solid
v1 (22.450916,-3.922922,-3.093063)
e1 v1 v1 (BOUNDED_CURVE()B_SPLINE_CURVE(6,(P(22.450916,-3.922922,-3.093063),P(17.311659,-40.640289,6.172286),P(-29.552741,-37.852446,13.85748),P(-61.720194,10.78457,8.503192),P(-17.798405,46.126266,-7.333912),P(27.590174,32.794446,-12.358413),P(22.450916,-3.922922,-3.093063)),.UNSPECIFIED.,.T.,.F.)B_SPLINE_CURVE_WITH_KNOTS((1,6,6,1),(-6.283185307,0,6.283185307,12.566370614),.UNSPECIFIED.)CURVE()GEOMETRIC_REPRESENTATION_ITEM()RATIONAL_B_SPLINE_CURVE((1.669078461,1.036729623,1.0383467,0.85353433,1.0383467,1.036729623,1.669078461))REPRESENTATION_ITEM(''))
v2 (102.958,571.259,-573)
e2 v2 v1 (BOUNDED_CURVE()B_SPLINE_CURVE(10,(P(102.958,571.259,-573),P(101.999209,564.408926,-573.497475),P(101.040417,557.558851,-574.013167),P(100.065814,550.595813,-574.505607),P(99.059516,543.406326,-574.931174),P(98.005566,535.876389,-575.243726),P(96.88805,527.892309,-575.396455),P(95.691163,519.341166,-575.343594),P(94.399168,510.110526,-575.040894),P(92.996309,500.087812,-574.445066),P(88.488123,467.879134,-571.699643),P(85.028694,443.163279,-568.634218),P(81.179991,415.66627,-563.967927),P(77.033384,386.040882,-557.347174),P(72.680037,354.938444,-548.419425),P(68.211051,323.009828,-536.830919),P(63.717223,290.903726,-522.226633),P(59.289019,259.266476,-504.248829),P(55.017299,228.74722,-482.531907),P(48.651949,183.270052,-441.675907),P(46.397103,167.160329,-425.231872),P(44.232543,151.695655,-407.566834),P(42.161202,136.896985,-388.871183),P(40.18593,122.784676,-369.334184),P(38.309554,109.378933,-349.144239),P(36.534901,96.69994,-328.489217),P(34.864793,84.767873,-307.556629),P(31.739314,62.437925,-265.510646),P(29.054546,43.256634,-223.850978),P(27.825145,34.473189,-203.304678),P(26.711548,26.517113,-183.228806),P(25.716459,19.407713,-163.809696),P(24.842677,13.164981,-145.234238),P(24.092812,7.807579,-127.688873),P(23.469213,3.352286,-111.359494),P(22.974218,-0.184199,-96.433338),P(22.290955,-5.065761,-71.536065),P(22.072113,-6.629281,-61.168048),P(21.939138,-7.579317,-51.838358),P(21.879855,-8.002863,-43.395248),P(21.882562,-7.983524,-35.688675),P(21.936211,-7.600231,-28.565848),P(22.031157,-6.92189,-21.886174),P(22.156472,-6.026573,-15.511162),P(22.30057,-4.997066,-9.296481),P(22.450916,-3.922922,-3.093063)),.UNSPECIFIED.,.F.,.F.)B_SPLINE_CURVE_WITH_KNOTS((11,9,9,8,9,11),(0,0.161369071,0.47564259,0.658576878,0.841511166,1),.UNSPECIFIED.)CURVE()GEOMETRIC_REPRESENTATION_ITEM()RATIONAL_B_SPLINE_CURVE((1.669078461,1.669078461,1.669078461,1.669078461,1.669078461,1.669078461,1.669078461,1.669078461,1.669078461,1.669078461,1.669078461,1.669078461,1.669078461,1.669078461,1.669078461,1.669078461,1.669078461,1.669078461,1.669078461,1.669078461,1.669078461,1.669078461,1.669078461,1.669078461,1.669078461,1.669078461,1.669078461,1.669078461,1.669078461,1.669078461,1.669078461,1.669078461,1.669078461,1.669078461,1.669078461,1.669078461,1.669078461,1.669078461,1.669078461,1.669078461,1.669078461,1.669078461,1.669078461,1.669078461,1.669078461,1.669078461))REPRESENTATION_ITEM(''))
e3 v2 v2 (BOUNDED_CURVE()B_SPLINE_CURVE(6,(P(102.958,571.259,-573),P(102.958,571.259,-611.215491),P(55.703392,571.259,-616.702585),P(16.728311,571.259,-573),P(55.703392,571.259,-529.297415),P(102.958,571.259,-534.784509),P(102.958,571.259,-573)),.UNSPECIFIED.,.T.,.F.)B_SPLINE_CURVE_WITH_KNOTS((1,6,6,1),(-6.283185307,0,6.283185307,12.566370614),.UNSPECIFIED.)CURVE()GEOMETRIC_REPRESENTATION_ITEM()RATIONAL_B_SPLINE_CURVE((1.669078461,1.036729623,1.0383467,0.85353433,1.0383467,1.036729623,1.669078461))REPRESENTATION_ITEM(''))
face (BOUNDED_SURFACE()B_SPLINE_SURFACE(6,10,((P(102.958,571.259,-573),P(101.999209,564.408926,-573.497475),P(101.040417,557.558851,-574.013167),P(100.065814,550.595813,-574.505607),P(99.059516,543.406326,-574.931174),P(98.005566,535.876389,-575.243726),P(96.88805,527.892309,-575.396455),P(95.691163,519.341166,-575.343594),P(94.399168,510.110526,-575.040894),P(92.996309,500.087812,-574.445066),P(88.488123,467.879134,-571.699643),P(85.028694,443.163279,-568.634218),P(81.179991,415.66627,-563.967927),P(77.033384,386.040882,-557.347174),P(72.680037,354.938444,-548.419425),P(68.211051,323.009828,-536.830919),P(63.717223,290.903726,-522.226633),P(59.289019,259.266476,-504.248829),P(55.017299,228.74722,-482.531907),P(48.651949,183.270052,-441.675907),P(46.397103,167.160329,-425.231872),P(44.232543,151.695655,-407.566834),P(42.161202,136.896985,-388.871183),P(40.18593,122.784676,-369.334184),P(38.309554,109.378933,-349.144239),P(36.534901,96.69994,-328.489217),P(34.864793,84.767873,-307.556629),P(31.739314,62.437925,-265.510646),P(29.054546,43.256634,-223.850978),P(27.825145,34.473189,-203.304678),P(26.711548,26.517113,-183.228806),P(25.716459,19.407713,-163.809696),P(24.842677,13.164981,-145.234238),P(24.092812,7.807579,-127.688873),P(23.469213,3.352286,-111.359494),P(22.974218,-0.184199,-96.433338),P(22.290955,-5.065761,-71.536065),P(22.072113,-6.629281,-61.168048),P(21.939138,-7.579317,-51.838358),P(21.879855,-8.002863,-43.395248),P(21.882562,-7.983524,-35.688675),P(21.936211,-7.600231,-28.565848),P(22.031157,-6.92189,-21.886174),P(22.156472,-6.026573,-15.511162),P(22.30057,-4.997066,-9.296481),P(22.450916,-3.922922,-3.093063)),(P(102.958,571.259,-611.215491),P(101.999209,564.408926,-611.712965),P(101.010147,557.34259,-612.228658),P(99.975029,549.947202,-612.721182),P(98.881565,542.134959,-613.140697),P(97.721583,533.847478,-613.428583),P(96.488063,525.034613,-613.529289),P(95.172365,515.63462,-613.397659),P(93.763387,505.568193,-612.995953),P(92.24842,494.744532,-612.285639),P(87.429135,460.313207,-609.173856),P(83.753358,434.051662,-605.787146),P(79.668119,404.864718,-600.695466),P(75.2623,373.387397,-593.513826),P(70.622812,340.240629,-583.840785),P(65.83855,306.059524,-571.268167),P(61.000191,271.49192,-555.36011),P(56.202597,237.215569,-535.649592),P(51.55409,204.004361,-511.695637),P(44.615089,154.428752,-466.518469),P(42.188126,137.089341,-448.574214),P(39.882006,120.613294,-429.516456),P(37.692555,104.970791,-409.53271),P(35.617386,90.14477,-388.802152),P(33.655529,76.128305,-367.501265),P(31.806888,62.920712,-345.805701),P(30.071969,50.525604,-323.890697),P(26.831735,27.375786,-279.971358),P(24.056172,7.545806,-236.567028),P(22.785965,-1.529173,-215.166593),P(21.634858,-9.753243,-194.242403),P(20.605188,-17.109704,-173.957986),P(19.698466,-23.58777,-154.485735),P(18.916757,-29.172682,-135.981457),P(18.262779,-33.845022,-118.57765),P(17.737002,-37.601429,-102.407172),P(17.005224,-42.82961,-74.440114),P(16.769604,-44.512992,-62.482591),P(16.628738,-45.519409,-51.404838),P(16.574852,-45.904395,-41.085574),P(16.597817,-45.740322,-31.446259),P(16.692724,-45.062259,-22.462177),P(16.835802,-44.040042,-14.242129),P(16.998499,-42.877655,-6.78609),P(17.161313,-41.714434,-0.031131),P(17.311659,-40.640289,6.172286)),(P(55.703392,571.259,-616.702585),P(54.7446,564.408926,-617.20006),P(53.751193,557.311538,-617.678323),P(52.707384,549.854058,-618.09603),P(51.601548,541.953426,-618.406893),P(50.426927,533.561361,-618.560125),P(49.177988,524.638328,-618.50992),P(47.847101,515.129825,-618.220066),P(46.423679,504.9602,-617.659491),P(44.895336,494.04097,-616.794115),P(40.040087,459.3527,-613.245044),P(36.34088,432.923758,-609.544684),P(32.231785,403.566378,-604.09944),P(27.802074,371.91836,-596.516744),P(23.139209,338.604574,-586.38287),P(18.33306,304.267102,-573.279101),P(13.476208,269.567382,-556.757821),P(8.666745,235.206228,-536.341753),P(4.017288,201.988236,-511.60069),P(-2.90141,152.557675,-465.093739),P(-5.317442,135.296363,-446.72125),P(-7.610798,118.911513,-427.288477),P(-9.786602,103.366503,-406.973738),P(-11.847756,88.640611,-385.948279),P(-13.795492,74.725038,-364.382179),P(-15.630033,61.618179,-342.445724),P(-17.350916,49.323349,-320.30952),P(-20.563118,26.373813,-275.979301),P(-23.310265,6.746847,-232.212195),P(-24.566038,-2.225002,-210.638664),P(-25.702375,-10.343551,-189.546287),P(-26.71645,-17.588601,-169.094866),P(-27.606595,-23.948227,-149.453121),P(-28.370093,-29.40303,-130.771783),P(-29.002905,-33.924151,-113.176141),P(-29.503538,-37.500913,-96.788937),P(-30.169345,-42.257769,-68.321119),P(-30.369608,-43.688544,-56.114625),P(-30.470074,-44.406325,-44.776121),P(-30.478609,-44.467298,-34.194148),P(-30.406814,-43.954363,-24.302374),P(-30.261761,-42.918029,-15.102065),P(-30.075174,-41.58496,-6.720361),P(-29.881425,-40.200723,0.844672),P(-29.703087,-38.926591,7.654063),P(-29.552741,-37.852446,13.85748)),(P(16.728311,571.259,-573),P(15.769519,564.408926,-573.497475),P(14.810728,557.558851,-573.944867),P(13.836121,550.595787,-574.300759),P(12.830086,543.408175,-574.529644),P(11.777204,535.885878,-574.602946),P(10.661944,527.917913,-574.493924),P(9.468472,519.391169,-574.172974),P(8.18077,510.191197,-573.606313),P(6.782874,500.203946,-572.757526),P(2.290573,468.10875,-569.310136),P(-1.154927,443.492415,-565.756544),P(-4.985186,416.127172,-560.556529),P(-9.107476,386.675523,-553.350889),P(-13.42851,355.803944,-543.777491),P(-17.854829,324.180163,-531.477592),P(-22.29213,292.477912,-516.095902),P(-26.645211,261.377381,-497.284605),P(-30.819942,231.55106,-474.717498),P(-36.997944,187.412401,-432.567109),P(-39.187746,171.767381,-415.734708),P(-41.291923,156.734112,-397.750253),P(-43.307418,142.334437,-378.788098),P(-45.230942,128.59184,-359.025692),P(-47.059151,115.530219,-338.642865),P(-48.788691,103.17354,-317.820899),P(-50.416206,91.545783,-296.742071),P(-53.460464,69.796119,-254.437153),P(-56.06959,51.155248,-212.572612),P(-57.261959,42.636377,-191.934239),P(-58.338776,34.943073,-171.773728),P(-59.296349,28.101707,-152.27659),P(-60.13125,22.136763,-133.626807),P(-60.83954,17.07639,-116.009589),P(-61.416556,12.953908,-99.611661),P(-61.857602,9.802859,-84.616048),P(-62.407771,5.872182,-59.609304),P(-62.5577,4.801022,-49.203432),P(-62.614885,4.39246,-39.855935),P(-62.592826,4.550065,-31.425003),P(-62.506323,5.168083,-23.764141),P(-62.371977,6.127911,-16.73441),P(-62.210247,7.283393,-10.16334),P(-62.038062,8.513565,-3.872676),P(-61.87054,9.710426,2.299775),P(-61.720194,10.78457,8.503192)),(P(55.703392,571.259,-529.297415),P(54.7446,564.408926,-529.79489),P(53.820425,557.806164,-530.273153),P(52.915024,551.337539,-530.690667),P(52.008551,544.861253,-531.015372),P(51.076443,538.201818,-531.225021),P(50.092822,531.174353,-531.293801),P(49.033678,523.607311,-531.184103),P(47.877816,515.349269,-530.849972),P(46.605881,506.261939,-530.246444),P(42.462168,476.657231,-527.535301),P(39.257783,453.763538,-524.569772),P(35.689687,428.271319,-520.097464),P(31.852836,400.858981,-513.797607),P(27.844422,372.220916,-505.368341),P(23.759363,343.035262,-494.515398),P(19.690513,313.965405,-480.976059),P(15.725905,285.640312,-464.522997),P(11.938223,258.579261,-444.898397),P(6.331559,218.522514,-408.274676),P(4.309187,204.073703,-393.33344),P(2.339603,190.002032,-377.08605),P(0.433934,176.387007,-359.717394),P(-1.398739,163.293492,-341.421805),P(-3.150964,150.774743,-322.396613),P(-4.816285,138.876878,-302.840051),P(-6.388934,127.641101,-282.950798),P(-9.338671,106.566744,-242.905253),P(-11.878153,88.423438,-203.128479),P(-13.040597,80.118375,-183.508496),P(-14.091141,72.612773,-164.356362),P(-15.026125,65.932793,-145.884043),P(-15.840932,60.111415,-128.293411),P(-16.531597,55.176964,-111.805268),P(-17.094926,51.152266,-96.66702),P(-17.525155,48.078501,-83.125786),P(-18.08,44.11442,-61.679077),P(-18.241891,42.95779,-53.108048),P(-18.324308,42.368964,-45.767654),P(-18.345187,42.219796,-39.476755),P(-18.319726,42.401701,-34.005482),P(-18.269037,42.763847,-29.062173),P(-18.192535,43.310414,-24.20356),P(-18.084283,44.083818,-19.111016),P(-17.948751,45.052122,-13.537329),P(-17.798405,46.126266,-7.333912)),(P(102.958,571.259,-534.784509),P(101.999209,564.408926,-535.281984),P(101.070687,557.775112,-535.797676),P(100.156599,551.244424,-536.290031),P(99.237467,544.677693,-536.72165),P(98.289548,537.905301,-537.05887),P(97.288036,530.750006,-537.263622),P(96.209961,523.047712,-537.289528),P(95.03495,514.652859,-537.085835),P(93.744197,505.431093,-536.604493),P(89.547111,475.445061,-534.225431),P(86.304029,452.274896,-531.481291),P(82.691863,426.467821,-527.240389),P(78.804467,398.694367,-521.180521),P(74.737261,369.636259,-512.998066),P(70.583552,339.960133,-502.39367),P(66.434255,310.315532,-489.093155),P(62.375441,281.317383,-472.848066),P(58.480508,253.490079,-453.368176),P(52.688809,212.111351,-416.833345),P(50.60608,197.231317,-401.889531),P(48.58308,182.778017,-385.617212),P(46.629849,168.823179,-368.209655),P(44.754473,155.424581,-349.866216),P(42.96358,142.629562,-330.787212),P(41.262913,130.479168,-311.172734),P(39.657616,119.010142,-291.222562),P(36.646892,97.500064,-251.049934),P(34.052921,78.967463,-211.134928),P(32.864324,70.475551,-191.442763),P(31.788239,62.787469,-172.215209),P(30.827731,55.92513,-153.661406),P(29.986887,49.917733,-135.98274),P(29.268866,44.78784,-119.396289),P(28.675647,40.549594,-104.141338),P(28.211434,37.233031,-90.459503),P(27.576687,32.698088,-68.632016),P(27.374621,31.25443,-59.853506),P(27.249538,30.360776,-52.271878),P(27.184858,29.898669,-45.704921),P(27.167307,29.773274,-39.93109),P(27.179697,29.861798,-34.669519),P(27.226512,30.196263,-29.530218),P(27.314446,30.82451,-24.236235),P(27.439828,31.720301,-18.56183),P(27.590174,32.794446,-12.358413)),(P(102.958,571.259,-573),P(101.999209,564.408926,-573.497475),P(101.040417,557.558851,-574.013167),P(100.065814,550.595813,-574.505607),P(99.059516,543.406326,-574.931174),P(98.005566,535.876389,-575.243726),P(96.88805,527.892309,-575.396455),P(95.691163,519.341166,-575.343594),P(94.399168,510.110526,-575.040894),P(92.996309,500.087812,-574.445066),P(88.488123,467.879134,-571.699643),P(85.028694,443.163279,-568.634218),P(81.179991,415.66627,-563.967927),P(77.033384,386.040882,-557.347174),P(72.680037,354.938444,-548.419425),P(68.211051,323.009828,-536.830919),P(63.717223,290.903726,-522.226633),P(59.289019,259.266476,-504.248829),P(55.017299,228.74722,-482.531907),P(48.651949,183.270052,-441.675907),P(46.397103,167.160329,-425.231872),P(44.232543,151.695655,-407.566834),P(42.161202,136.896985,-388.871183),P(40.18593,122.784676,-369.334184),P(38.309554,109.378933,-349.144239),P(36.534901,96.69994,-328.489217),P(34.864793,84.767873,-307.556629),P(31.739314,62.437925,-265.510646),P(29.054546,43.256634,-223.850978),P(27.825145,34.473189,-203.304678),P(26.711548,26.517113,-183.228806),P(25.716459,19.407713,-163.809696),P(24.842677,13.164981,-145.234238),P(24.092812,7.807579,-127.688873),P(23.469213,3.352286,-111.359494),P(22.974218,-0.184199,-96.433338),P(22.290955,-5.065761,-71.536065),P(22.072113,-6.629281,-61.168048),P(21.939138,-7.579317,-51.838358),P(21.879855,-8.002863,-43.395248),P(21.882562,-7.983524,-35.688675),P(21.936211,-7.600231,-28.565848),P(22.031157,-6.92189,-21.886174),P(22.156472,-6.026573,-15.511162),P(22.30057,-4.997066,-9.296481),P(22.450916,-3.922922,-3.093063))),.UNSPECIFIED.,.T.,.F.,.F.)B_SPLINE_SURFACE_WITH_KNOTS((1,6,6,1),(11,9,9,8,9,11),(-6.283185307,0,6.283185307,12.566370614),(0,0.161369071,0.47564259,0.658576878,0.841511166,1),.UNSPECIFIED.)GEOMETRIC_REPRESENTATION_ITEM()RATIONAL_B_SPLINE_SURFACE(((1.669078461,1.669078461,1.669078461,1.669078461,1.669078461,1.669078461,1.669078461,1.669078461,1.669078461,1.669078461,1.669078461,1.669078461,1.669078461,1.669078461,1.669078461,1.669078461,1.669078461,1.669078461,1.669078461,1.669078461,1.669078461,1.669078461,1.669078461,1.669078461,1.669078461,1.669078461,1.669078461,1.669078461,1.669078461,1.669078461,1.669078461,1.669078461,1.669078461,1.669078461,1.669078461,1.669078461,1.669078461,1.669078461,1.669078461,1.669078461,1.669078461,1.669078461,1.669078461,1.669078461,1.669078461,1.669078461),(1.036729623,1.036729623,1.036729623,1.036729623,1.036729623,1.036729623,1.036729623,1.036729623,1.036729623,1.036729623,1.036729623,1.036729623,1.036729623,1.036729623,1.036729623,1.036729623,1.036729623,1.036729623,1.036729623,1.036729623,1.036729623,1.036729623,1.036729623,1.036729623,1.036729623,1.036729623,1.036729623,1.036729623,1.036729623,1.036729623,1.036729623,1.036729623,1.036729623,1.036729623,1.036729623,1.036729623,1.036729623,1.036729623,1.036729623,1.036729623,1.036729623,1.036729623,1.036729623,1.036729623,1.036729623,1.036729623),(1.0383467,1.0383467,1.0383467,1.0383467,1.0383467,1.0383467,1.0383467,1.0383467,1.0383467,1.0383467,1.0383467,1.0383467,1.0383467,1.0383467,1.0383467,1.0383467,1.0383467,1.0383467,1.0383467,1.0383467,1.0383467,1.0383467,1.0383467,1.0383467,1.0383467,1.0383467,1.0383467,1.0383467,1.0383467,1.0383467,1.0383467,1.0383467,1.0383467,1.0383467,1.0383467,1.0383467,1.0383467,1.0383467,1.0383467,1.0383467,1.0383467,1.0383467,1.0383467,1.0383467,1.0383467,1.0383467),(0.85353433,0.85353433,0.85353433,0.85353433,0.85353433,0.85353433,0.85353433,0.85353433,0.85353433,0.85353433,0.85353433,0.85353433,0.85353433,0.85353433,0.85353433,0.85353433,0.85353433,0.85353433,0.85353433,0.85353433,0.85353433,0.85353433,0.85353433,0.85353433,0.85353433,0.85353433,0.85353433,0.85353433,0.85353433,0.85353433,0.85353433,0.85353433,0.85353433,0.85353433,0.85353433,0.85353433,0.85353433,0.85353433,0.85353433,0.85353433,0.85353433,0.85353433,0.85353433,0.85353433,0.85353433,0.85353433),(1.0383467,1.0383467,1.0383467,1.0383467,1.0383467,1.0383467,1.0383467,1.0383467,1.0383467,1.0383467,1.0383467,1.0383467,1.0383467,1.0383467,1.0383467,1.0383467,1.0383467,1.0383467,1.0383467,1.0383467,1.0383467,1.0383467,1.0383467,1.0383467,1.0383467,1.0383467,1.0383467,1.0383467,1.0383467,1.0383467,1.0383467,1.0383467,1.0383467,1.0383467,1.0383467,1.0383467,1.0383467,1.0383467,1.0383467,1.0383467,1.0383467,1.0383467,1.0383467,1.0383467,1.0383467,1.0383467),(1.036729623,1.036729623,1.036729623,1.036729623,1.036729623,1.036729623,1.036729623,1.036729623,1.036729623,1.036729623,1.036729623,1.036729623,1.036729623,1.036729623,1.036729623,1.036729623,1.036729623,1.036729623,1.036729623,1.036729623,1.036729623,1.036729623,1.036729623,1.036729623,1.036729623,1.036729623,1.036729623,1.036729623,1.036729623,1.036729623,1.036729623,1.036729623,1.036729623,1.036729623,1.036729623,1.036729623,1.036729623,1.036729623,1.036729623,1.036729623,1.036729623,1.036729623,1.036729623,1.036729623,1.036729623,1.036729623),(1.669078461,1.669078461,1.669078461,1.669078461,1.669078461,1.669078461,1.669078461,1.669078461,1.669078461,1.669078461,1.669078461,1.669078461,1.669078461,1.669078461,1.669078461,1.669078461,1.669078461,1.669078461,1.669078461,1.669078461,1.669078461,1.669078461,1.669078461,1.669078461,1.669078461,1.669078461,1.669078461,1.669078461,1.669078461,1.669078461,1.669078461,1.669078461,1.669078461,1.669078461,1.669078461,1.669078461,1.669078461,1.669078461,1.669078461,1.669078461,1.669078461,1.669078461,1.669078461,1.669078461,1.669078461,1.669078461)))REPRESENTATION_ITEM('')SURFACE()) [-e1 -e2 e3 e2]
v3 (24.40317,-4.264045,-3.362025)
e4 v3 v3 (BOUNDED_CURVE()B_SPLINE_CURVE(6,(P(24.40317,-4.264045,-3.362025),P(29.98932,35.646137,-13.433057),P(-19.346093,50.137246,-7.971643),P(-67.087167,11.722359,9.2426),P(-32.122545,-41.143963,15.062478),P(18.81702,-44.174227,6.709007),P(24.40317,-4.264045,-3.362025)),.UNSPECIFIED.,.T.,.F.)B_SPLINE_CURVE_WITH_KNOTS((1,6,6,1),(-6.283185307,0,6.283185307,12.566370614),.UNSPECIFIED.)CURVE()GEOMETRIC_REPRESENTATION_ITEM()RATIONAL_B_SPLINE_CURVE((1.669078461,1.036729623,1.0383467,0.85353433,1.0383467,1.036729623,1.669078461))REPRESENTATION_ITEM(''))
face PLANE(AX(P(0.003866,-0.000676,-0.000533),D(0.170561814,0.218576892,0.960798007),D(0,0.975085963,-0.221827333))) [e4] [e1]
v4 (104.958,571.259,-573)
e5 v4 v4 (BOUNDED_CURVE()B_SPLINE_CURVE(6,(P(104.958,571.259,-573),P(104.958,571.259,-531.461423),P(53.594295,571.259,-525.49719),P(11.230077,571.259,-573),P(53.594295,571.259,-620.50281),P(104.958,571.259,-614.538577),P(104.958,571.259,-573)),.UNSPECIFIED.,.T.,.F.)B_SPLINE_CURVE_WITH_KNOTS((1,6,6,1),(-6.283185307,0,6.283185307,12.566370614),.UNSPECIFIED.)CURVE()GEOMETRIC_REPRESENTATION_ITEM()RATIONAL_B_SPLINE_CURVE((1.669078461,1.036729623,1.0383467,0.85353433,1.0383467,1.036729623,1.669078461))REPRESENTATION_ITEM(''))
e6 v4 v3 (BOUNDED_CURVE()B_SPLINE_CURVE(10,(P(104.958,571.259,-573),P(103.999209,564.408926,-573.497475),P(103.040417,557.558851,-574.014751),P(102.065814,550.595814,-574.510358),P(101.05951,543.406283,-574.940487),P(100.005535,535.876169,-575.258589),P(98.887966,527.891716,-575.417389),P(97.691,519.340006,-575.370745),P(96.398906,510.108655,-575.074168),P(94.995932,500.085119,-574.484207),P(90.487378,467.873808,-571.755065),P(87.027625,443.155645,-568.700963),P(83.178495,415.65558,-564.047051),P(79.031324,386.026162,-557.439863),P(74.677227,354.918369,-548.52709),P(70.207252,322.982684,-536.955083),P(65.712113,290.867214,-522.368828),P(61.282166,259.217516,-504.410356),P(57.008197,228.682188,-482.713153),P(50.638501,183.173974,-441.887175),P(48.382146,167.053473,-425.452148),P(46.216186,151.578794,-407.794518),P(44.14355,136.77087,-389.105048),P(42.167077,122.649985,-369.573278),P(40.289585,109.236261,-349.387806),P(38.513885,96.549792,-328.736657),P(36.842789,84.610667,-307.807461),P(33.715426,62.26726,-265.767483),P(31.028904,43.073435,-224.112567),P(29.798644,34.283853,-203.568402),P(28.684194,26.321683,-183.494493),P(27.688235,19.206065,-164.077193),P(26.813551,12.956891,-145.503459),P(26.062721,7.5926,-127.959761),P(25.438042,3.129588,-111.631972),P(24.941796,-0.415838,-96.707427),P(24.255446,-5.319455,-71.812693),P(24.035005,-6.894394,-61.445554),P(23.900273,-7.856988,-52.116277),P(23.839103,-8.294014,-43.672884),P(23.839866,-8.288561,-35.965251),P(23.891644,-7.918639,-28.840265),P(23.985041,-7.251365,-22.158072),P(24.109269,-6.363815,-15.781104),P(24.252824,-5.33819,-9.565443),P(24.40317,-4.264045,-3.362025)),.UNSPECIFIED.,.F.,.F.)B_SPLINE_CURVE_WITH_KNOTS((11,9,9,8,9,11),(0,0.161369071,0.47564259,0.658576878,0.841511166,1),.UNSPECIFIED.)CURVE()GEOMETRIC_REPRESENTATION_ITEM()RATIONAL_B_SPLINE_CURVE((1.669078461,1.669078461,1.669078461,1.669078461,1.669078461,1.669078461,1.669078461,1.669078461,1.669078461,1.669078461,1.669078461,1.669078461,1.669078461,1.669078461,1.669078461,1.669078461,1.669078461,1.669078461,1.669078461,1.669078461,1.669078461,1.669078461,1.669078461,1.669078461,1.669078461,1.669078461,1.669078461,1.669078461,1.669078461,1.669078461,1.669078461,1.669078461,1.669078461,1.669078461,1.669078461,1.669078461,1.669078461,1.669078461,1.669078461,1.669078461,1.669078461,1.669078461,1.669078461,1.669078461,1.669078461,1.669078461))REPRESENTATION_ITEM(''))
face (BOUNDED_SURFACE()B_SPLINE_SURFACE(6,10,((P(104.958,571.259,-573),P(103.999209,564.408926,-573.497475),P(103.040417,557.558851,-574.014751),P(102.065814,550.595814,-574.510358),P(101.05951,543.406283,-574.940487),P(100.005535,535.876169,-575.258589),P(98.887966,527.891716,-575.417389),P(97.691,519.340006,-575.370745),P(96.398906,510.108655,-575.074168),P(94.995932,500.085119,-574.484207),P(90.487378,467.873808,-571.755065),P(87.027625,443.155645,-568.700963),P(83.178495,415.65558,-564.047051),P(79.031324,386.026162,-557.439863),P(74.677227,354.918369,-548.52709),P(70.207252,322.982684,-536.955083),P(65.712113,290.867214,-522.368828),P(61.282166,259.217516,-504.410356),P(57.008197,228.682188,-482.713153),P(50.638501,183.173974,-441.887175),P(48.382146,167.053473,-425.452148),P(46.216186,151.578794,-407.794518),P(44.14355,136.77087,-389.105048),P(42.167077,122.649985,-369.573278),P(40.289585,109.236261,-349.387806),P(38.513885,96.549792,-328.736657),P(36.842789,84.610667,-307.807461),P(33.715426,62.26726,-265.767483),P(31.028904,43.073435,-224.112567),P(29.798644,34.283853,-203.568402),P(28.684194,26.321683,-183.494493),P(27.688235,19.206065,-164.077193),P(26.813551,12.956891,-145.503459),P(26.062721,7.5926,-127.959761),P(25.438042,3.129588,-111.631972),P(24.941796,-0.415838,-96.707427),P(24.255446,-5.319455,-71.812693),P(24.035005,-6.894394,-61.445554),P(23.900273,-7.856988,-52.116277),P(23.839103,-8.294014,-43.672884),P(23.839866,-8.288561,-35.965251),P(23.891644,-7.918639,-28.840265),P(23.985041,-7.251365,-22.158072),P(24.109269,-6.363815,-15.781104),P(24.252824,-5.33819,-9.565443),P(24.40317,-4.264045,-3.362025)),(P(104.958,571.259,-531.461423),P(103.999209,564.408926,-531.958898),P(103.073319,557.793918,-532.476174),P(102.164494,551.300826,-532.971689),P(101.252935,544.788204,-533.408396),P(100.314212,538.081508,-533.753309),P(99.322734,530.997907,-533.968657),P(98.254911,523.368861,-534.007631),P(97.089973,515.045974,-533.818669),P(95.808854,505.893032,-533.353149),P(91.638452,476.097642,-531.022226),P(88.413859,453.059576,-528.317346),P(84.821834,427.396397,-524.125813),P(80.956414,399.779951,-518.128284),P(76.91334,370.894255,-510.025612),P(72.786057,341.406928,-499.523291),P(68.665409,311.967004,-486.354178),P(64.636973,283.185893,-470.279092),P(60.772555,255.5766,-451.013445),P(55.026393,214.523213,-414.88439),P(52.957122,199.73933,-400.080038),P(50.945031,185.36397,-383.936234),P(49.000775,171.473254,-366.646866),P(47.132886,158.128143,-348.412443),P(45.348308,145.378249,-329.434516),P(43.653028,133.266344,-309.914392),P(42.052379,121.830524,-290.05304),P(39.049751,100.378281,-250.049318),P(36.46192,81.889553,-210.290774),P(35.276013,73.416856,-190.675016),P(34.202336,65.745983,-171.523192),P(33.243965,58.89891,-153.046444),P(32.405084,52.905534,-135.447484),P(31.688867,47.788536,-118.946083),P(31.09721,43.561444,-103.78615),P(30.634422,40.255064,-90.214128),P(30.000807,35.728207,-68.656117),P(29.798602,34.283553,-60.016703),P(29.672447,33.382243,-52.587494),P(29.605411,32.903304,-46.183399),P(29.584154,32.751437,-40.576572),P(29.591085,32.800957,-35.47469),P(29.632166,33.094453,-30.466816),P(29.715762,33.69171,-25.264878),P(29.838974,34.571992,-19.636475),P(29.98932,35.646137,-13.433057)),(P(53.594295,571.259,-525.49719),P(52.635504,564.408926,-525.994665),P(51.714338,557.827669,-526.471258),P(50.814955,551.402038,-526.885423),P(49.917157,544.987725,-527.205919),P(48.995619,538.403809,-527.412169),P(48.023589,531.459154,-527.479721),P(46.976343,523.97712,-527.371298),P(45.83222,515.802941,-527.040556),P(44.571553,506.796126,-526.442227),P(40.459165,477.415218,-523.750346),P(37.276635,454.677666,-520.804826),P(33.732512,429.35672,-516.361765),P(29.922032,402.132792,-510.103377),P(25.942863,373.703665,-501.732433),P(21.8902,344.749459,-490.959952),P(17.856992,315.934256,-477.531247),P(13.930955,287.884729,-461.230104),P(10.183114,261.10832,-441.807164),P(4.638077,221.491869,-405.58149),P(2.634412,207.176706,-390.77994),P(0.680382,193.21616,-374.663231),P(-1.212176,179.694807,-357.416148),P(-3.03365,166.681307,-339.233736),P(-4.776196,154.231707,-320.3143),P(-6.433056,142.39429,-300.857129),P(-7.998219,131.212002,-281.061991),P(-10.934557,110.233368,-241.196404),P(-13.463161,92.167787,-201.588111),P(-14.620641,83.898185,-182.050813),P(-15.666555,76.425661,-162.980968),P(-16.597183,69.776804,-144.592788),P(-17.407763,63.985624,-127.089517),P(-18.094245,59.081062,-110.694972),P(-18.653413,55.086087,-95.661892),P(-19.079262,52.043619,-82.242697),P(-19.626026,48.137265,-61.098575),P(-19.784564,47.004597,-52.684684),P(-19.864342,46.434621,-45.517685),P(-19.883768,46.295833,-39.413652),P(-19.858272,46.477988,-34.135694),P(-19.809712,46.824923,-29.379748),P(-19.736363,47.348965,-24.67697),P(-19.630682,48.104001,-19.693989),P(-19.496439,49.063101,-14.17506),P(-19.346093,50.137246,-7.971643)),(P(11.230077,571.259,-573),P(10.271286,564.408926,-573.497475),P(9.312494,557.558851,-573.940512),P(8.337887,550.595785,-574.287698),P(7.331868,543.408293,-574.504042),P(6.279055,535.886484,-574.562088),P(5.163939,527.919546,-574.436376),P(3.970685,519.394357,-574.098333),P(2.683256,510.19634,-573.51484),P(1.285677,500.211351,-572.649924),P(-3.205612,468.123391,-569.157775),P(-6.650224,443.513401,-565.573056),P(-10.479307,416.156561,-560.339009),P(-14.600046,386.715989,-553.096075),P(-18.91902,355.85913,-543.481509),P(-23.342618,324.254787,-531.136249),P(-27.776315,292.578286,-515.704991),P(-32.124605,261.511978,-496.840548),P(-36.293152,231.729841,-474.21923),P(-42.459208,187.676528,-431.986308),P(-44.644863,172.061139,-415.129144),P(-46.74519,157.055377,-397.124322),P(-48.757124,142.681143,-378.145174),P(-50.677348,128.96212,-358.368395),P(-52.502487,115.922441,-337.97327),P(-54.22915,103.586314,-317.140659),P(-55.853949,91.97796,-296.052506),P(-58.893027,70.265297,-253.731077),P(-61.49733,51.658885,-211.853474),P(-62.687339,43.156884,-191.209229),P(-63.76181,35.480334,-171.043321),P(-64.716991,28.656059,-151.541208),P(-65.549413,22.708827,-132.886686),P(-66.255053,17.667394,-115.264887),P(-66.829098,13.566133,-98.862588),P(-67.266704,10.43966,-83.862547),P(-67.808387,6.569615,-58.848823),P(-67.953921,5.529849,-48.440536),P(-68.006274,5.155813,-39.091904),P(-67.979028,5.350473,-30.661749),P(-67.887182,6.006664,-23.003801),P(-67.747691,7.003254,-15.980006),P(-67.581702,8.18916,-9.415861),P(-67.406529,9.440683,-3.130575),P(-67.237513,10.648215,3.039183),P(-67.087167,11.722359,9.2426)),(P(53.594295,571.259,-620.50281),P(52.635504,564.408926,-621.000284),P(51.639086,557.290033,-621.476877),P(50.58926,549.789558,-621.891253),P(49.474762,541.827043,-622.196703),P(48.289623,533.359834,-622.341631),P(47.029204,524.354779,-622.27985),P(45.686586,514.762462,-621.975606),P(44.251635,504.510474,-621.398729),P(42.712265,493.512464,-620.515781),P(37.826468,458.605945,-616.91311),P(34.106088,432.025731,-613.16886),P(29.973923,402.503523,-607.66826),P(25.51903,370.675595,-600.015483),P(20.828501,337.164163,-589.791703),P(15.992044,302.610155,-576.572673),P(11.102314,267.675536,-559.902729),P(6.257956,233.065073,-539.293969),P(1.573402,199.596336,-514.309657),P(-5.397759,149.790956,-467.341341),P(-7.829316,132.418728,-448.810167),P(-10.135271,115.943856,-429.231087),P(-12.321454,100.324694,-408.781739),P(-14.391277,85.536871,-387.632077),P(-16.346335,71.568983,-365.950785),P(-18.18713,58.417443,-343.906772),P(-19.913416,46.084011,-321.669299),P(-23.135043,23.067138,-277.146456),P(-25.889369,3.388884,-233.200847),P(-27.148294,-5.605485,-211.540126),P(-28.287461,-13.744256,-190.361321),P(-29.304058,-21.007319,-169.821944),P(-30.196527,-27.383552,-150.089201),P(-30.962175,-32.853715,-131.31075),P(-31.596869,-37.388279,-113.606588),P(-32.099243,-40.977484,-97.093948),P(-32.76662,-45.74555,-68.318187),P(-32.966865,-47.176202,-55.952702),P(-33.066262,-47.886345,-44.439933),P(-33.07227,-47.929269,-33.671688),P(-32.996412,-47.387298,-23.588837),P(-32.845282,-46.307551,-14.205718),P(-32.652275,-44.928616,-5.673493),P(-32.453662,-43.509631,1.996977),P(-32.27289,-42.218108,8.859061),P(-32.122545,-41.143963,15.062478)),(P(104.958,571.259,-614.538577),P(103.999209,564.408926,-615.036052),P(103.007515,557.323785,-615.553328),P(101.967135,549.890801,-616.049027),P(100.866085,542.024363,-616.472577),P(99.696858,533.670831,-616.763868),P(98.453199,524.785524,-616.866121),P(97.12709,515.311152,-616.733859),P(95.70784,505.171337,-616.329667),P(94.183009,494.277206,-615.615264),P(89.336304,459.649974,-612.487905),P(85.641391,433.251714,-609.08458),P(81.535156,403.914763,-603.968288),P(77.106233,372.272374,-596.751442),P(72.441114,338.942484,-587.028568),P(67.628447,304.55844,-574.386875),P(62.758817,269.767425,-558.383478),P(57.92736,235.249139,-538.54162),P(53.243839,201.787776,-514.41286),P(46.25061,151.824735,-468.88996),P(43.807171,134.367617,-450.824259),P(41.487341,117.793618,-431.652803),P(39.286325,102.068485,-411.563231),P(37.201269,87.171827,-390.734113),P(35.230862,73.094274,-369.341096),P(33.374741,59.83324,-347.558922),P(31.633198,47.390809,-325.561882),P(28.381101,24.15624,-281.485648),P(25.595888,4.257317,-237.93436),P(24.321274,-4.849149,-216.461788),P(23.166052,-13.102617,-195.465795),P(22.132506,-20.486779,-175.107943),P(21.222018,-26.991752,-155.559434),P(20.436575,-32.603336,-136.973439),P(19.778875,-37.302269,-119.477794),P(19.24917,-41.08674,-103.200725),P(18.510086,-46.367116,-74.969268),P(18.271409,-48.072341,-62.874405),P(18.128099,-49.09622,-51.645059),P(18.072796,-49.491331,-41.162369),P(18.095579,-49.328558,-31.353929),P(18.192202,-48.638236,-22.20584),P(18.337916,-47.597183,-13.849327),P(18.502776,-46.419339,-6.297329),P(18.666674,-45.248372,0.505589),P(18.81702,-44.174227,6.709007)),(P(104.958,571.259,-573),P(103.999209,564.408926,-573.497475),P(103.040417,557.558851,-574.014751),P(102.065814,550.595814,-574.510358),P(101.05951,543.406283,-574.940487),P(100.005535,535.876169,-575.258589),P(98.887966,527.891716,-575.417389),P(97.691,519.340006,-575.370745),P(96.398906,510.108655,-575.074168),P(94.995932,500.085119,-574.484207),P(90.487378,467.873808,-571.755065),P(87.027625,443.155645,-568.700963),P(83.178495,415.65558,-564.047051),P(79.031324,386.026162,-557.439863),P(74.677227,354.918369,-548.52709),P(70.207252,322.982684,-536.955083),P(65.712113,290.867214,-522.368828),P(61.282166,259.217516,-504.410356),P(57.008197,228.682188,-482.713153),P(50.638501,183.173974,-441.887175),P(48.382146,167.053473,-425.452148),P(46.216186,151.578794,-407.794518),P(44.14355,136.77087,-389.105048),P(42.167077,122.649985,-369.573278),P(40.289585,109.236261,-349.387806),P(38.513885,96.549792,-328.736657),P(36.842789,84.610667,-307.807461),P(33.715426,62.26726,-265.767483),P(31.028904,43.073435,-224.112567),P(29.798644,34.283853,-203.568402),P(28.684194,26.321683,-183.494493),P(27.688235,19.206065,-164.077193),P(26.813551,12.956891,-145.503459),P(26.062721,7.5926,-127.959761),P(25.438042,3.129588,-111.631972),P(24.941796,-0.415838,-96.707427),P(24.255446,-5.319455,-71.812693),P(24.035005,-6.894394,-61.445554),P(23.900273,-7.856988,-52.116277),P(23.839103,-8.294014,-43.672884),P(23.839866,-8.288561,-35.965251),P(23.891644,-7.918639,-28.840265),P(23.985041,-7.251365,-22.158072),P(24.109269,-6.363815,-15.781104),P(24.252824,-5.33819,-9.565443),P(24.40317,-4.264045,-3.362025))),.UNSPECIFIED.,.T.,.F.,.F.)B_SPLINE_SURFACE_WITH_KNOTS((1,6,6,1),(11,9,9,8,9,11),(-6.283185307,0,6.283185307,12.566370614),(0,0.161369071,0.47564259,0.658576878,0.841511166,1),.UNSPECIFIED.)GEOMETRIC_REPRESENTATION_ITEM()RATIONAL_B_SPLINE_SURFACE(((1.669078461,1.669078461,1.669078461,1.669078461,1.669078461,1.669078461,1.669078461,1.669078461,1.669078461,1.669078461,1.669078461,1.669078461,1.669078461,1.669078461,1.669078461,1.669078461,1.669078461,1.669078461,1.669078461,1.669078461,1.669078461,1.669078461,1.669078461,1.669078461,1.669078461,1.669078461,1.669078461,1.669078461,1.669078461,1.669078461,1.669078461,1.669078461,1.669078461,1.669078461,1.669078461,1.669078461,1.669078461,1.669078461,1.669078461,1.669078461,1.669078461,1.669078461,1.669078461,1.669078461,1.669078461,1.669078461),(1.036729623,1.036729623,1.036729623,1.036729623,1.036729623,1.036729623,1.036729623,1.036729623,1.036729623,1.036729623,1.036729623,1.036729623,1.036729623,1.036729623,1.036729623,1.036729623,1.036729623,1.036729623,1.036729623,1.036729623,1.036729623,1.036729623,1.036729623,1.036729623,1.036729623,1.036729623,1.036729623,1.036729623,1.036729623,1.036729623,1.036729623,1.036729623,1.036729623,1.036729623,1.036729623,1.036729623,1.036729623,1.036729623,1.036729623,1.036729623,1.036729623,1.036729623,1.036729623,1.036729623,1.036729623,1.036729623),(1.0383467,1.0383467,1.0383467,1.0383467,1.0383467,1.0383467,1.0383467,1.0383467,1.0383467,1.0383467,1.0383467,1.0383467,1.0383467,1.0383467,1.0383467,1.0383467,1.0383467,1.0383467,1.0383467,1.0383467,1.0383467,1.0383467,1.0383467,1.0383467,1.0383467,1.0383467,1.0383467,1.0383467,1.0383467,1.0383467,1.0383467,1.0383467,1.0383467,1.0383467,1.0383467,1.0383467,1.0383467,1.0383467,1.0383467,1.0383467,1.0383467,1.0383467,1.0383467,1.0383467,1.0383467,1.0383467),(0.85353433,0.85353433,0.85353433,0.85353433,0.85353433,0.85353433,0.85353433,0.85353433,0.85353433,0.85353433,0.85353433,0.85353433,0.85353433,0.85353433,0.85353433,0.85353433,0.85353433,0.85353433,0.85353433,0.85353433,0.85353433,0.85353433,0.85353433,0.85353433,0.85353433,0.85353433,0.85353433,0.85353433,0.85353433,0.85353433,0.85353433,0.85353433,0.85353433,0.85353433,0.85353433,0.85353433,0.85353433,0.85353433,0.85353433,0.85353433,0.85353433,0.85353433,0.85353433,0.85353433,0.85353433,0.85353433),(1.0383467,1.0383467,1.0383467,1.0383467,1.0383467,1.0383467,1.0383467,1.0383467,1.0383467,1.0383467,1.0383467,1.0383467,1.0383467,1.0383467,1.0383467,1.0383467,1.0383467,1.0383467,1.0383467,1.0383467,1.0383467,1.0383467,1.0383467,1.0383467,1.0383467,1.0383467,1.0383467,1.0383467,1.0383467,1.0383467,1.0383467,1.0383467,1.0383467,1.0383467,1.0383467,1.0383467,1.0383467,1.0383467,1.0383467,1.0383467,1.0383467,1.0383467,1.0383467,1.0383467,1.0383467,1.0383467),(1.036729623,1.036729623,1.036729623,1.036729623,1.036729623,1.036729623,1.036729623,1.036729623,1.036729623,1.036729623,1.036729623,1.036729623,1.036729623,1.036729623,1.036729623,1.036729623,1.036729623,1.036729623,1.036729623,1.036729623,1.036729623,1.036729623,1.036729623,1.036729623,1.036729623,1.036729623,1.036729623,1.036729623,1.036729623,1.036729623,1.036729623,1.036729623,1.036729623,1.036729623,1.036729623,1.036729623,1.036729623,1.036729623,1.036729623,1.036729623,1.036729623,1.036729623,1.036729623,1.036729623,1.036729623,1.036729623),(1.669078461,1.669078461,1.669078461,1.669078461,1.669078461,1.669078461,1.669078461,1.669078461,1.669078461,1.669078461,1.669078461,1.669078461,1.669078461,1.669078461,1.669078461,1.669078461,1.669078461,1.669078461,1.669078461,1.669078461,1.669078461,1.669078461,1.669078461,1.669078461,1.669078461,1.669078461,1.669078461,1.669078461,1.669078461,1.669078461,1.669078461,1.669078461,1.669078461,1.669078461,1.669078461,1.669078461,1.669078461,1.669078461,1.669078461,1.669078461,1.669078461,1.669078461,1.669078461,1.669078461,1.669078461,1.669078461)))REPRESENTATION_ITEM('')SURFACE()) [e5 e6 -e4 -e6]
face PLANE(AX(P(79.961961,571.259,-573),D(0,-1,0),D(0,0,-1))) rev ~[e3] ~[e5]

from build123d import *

# Parameters (mm, degrees)
F6_R   = 25
F6_R_2 = 23


with BuildPart() as f7:
    # F7: sweep along a path in F4
    with BuildLine(Plane(origin=(0, 0, 0), x_dir=(-0.1386167971, -0.9903460928, 0), z_dir=(-0.9903460928, 0.1386167971, 0))) as f7_path:
        add(Plane(origin=(0, 0, 0), x_dir=(-0.1386167971, -0.9903460928, 0), z_dir=(-0.9903460928, 0.1386167971, 0)) * Edge.make_bspline(
            [(-576.8276405002, -573), (-553.7714769106, -574.6582490123), (-485.8123984854, -579.546012505), (-155.1715719419, -511.7270213527), (15.5768194492, -89.0910346967), (3.6153848347, -20.6780579826), (0, 0)],
            knots=[0, 0, 0, 0, 0.1613690711, 0.4756425896, 0.8415111656, 1, 1, 1, 1], degree=3))
    # F6 (on plane+point) → F7 (sweep)
    with BuildSketch(Plane.XZ.offset(-571.259)):
        with Locations((79.958, -573)):
            Circle(F6_R)
        with Locations((79.958, -573)):
            Circle(F6_R_2, mode=Mode.SUBTRACT)
    sweep(path=f7_path.line)


solid = f7.part
